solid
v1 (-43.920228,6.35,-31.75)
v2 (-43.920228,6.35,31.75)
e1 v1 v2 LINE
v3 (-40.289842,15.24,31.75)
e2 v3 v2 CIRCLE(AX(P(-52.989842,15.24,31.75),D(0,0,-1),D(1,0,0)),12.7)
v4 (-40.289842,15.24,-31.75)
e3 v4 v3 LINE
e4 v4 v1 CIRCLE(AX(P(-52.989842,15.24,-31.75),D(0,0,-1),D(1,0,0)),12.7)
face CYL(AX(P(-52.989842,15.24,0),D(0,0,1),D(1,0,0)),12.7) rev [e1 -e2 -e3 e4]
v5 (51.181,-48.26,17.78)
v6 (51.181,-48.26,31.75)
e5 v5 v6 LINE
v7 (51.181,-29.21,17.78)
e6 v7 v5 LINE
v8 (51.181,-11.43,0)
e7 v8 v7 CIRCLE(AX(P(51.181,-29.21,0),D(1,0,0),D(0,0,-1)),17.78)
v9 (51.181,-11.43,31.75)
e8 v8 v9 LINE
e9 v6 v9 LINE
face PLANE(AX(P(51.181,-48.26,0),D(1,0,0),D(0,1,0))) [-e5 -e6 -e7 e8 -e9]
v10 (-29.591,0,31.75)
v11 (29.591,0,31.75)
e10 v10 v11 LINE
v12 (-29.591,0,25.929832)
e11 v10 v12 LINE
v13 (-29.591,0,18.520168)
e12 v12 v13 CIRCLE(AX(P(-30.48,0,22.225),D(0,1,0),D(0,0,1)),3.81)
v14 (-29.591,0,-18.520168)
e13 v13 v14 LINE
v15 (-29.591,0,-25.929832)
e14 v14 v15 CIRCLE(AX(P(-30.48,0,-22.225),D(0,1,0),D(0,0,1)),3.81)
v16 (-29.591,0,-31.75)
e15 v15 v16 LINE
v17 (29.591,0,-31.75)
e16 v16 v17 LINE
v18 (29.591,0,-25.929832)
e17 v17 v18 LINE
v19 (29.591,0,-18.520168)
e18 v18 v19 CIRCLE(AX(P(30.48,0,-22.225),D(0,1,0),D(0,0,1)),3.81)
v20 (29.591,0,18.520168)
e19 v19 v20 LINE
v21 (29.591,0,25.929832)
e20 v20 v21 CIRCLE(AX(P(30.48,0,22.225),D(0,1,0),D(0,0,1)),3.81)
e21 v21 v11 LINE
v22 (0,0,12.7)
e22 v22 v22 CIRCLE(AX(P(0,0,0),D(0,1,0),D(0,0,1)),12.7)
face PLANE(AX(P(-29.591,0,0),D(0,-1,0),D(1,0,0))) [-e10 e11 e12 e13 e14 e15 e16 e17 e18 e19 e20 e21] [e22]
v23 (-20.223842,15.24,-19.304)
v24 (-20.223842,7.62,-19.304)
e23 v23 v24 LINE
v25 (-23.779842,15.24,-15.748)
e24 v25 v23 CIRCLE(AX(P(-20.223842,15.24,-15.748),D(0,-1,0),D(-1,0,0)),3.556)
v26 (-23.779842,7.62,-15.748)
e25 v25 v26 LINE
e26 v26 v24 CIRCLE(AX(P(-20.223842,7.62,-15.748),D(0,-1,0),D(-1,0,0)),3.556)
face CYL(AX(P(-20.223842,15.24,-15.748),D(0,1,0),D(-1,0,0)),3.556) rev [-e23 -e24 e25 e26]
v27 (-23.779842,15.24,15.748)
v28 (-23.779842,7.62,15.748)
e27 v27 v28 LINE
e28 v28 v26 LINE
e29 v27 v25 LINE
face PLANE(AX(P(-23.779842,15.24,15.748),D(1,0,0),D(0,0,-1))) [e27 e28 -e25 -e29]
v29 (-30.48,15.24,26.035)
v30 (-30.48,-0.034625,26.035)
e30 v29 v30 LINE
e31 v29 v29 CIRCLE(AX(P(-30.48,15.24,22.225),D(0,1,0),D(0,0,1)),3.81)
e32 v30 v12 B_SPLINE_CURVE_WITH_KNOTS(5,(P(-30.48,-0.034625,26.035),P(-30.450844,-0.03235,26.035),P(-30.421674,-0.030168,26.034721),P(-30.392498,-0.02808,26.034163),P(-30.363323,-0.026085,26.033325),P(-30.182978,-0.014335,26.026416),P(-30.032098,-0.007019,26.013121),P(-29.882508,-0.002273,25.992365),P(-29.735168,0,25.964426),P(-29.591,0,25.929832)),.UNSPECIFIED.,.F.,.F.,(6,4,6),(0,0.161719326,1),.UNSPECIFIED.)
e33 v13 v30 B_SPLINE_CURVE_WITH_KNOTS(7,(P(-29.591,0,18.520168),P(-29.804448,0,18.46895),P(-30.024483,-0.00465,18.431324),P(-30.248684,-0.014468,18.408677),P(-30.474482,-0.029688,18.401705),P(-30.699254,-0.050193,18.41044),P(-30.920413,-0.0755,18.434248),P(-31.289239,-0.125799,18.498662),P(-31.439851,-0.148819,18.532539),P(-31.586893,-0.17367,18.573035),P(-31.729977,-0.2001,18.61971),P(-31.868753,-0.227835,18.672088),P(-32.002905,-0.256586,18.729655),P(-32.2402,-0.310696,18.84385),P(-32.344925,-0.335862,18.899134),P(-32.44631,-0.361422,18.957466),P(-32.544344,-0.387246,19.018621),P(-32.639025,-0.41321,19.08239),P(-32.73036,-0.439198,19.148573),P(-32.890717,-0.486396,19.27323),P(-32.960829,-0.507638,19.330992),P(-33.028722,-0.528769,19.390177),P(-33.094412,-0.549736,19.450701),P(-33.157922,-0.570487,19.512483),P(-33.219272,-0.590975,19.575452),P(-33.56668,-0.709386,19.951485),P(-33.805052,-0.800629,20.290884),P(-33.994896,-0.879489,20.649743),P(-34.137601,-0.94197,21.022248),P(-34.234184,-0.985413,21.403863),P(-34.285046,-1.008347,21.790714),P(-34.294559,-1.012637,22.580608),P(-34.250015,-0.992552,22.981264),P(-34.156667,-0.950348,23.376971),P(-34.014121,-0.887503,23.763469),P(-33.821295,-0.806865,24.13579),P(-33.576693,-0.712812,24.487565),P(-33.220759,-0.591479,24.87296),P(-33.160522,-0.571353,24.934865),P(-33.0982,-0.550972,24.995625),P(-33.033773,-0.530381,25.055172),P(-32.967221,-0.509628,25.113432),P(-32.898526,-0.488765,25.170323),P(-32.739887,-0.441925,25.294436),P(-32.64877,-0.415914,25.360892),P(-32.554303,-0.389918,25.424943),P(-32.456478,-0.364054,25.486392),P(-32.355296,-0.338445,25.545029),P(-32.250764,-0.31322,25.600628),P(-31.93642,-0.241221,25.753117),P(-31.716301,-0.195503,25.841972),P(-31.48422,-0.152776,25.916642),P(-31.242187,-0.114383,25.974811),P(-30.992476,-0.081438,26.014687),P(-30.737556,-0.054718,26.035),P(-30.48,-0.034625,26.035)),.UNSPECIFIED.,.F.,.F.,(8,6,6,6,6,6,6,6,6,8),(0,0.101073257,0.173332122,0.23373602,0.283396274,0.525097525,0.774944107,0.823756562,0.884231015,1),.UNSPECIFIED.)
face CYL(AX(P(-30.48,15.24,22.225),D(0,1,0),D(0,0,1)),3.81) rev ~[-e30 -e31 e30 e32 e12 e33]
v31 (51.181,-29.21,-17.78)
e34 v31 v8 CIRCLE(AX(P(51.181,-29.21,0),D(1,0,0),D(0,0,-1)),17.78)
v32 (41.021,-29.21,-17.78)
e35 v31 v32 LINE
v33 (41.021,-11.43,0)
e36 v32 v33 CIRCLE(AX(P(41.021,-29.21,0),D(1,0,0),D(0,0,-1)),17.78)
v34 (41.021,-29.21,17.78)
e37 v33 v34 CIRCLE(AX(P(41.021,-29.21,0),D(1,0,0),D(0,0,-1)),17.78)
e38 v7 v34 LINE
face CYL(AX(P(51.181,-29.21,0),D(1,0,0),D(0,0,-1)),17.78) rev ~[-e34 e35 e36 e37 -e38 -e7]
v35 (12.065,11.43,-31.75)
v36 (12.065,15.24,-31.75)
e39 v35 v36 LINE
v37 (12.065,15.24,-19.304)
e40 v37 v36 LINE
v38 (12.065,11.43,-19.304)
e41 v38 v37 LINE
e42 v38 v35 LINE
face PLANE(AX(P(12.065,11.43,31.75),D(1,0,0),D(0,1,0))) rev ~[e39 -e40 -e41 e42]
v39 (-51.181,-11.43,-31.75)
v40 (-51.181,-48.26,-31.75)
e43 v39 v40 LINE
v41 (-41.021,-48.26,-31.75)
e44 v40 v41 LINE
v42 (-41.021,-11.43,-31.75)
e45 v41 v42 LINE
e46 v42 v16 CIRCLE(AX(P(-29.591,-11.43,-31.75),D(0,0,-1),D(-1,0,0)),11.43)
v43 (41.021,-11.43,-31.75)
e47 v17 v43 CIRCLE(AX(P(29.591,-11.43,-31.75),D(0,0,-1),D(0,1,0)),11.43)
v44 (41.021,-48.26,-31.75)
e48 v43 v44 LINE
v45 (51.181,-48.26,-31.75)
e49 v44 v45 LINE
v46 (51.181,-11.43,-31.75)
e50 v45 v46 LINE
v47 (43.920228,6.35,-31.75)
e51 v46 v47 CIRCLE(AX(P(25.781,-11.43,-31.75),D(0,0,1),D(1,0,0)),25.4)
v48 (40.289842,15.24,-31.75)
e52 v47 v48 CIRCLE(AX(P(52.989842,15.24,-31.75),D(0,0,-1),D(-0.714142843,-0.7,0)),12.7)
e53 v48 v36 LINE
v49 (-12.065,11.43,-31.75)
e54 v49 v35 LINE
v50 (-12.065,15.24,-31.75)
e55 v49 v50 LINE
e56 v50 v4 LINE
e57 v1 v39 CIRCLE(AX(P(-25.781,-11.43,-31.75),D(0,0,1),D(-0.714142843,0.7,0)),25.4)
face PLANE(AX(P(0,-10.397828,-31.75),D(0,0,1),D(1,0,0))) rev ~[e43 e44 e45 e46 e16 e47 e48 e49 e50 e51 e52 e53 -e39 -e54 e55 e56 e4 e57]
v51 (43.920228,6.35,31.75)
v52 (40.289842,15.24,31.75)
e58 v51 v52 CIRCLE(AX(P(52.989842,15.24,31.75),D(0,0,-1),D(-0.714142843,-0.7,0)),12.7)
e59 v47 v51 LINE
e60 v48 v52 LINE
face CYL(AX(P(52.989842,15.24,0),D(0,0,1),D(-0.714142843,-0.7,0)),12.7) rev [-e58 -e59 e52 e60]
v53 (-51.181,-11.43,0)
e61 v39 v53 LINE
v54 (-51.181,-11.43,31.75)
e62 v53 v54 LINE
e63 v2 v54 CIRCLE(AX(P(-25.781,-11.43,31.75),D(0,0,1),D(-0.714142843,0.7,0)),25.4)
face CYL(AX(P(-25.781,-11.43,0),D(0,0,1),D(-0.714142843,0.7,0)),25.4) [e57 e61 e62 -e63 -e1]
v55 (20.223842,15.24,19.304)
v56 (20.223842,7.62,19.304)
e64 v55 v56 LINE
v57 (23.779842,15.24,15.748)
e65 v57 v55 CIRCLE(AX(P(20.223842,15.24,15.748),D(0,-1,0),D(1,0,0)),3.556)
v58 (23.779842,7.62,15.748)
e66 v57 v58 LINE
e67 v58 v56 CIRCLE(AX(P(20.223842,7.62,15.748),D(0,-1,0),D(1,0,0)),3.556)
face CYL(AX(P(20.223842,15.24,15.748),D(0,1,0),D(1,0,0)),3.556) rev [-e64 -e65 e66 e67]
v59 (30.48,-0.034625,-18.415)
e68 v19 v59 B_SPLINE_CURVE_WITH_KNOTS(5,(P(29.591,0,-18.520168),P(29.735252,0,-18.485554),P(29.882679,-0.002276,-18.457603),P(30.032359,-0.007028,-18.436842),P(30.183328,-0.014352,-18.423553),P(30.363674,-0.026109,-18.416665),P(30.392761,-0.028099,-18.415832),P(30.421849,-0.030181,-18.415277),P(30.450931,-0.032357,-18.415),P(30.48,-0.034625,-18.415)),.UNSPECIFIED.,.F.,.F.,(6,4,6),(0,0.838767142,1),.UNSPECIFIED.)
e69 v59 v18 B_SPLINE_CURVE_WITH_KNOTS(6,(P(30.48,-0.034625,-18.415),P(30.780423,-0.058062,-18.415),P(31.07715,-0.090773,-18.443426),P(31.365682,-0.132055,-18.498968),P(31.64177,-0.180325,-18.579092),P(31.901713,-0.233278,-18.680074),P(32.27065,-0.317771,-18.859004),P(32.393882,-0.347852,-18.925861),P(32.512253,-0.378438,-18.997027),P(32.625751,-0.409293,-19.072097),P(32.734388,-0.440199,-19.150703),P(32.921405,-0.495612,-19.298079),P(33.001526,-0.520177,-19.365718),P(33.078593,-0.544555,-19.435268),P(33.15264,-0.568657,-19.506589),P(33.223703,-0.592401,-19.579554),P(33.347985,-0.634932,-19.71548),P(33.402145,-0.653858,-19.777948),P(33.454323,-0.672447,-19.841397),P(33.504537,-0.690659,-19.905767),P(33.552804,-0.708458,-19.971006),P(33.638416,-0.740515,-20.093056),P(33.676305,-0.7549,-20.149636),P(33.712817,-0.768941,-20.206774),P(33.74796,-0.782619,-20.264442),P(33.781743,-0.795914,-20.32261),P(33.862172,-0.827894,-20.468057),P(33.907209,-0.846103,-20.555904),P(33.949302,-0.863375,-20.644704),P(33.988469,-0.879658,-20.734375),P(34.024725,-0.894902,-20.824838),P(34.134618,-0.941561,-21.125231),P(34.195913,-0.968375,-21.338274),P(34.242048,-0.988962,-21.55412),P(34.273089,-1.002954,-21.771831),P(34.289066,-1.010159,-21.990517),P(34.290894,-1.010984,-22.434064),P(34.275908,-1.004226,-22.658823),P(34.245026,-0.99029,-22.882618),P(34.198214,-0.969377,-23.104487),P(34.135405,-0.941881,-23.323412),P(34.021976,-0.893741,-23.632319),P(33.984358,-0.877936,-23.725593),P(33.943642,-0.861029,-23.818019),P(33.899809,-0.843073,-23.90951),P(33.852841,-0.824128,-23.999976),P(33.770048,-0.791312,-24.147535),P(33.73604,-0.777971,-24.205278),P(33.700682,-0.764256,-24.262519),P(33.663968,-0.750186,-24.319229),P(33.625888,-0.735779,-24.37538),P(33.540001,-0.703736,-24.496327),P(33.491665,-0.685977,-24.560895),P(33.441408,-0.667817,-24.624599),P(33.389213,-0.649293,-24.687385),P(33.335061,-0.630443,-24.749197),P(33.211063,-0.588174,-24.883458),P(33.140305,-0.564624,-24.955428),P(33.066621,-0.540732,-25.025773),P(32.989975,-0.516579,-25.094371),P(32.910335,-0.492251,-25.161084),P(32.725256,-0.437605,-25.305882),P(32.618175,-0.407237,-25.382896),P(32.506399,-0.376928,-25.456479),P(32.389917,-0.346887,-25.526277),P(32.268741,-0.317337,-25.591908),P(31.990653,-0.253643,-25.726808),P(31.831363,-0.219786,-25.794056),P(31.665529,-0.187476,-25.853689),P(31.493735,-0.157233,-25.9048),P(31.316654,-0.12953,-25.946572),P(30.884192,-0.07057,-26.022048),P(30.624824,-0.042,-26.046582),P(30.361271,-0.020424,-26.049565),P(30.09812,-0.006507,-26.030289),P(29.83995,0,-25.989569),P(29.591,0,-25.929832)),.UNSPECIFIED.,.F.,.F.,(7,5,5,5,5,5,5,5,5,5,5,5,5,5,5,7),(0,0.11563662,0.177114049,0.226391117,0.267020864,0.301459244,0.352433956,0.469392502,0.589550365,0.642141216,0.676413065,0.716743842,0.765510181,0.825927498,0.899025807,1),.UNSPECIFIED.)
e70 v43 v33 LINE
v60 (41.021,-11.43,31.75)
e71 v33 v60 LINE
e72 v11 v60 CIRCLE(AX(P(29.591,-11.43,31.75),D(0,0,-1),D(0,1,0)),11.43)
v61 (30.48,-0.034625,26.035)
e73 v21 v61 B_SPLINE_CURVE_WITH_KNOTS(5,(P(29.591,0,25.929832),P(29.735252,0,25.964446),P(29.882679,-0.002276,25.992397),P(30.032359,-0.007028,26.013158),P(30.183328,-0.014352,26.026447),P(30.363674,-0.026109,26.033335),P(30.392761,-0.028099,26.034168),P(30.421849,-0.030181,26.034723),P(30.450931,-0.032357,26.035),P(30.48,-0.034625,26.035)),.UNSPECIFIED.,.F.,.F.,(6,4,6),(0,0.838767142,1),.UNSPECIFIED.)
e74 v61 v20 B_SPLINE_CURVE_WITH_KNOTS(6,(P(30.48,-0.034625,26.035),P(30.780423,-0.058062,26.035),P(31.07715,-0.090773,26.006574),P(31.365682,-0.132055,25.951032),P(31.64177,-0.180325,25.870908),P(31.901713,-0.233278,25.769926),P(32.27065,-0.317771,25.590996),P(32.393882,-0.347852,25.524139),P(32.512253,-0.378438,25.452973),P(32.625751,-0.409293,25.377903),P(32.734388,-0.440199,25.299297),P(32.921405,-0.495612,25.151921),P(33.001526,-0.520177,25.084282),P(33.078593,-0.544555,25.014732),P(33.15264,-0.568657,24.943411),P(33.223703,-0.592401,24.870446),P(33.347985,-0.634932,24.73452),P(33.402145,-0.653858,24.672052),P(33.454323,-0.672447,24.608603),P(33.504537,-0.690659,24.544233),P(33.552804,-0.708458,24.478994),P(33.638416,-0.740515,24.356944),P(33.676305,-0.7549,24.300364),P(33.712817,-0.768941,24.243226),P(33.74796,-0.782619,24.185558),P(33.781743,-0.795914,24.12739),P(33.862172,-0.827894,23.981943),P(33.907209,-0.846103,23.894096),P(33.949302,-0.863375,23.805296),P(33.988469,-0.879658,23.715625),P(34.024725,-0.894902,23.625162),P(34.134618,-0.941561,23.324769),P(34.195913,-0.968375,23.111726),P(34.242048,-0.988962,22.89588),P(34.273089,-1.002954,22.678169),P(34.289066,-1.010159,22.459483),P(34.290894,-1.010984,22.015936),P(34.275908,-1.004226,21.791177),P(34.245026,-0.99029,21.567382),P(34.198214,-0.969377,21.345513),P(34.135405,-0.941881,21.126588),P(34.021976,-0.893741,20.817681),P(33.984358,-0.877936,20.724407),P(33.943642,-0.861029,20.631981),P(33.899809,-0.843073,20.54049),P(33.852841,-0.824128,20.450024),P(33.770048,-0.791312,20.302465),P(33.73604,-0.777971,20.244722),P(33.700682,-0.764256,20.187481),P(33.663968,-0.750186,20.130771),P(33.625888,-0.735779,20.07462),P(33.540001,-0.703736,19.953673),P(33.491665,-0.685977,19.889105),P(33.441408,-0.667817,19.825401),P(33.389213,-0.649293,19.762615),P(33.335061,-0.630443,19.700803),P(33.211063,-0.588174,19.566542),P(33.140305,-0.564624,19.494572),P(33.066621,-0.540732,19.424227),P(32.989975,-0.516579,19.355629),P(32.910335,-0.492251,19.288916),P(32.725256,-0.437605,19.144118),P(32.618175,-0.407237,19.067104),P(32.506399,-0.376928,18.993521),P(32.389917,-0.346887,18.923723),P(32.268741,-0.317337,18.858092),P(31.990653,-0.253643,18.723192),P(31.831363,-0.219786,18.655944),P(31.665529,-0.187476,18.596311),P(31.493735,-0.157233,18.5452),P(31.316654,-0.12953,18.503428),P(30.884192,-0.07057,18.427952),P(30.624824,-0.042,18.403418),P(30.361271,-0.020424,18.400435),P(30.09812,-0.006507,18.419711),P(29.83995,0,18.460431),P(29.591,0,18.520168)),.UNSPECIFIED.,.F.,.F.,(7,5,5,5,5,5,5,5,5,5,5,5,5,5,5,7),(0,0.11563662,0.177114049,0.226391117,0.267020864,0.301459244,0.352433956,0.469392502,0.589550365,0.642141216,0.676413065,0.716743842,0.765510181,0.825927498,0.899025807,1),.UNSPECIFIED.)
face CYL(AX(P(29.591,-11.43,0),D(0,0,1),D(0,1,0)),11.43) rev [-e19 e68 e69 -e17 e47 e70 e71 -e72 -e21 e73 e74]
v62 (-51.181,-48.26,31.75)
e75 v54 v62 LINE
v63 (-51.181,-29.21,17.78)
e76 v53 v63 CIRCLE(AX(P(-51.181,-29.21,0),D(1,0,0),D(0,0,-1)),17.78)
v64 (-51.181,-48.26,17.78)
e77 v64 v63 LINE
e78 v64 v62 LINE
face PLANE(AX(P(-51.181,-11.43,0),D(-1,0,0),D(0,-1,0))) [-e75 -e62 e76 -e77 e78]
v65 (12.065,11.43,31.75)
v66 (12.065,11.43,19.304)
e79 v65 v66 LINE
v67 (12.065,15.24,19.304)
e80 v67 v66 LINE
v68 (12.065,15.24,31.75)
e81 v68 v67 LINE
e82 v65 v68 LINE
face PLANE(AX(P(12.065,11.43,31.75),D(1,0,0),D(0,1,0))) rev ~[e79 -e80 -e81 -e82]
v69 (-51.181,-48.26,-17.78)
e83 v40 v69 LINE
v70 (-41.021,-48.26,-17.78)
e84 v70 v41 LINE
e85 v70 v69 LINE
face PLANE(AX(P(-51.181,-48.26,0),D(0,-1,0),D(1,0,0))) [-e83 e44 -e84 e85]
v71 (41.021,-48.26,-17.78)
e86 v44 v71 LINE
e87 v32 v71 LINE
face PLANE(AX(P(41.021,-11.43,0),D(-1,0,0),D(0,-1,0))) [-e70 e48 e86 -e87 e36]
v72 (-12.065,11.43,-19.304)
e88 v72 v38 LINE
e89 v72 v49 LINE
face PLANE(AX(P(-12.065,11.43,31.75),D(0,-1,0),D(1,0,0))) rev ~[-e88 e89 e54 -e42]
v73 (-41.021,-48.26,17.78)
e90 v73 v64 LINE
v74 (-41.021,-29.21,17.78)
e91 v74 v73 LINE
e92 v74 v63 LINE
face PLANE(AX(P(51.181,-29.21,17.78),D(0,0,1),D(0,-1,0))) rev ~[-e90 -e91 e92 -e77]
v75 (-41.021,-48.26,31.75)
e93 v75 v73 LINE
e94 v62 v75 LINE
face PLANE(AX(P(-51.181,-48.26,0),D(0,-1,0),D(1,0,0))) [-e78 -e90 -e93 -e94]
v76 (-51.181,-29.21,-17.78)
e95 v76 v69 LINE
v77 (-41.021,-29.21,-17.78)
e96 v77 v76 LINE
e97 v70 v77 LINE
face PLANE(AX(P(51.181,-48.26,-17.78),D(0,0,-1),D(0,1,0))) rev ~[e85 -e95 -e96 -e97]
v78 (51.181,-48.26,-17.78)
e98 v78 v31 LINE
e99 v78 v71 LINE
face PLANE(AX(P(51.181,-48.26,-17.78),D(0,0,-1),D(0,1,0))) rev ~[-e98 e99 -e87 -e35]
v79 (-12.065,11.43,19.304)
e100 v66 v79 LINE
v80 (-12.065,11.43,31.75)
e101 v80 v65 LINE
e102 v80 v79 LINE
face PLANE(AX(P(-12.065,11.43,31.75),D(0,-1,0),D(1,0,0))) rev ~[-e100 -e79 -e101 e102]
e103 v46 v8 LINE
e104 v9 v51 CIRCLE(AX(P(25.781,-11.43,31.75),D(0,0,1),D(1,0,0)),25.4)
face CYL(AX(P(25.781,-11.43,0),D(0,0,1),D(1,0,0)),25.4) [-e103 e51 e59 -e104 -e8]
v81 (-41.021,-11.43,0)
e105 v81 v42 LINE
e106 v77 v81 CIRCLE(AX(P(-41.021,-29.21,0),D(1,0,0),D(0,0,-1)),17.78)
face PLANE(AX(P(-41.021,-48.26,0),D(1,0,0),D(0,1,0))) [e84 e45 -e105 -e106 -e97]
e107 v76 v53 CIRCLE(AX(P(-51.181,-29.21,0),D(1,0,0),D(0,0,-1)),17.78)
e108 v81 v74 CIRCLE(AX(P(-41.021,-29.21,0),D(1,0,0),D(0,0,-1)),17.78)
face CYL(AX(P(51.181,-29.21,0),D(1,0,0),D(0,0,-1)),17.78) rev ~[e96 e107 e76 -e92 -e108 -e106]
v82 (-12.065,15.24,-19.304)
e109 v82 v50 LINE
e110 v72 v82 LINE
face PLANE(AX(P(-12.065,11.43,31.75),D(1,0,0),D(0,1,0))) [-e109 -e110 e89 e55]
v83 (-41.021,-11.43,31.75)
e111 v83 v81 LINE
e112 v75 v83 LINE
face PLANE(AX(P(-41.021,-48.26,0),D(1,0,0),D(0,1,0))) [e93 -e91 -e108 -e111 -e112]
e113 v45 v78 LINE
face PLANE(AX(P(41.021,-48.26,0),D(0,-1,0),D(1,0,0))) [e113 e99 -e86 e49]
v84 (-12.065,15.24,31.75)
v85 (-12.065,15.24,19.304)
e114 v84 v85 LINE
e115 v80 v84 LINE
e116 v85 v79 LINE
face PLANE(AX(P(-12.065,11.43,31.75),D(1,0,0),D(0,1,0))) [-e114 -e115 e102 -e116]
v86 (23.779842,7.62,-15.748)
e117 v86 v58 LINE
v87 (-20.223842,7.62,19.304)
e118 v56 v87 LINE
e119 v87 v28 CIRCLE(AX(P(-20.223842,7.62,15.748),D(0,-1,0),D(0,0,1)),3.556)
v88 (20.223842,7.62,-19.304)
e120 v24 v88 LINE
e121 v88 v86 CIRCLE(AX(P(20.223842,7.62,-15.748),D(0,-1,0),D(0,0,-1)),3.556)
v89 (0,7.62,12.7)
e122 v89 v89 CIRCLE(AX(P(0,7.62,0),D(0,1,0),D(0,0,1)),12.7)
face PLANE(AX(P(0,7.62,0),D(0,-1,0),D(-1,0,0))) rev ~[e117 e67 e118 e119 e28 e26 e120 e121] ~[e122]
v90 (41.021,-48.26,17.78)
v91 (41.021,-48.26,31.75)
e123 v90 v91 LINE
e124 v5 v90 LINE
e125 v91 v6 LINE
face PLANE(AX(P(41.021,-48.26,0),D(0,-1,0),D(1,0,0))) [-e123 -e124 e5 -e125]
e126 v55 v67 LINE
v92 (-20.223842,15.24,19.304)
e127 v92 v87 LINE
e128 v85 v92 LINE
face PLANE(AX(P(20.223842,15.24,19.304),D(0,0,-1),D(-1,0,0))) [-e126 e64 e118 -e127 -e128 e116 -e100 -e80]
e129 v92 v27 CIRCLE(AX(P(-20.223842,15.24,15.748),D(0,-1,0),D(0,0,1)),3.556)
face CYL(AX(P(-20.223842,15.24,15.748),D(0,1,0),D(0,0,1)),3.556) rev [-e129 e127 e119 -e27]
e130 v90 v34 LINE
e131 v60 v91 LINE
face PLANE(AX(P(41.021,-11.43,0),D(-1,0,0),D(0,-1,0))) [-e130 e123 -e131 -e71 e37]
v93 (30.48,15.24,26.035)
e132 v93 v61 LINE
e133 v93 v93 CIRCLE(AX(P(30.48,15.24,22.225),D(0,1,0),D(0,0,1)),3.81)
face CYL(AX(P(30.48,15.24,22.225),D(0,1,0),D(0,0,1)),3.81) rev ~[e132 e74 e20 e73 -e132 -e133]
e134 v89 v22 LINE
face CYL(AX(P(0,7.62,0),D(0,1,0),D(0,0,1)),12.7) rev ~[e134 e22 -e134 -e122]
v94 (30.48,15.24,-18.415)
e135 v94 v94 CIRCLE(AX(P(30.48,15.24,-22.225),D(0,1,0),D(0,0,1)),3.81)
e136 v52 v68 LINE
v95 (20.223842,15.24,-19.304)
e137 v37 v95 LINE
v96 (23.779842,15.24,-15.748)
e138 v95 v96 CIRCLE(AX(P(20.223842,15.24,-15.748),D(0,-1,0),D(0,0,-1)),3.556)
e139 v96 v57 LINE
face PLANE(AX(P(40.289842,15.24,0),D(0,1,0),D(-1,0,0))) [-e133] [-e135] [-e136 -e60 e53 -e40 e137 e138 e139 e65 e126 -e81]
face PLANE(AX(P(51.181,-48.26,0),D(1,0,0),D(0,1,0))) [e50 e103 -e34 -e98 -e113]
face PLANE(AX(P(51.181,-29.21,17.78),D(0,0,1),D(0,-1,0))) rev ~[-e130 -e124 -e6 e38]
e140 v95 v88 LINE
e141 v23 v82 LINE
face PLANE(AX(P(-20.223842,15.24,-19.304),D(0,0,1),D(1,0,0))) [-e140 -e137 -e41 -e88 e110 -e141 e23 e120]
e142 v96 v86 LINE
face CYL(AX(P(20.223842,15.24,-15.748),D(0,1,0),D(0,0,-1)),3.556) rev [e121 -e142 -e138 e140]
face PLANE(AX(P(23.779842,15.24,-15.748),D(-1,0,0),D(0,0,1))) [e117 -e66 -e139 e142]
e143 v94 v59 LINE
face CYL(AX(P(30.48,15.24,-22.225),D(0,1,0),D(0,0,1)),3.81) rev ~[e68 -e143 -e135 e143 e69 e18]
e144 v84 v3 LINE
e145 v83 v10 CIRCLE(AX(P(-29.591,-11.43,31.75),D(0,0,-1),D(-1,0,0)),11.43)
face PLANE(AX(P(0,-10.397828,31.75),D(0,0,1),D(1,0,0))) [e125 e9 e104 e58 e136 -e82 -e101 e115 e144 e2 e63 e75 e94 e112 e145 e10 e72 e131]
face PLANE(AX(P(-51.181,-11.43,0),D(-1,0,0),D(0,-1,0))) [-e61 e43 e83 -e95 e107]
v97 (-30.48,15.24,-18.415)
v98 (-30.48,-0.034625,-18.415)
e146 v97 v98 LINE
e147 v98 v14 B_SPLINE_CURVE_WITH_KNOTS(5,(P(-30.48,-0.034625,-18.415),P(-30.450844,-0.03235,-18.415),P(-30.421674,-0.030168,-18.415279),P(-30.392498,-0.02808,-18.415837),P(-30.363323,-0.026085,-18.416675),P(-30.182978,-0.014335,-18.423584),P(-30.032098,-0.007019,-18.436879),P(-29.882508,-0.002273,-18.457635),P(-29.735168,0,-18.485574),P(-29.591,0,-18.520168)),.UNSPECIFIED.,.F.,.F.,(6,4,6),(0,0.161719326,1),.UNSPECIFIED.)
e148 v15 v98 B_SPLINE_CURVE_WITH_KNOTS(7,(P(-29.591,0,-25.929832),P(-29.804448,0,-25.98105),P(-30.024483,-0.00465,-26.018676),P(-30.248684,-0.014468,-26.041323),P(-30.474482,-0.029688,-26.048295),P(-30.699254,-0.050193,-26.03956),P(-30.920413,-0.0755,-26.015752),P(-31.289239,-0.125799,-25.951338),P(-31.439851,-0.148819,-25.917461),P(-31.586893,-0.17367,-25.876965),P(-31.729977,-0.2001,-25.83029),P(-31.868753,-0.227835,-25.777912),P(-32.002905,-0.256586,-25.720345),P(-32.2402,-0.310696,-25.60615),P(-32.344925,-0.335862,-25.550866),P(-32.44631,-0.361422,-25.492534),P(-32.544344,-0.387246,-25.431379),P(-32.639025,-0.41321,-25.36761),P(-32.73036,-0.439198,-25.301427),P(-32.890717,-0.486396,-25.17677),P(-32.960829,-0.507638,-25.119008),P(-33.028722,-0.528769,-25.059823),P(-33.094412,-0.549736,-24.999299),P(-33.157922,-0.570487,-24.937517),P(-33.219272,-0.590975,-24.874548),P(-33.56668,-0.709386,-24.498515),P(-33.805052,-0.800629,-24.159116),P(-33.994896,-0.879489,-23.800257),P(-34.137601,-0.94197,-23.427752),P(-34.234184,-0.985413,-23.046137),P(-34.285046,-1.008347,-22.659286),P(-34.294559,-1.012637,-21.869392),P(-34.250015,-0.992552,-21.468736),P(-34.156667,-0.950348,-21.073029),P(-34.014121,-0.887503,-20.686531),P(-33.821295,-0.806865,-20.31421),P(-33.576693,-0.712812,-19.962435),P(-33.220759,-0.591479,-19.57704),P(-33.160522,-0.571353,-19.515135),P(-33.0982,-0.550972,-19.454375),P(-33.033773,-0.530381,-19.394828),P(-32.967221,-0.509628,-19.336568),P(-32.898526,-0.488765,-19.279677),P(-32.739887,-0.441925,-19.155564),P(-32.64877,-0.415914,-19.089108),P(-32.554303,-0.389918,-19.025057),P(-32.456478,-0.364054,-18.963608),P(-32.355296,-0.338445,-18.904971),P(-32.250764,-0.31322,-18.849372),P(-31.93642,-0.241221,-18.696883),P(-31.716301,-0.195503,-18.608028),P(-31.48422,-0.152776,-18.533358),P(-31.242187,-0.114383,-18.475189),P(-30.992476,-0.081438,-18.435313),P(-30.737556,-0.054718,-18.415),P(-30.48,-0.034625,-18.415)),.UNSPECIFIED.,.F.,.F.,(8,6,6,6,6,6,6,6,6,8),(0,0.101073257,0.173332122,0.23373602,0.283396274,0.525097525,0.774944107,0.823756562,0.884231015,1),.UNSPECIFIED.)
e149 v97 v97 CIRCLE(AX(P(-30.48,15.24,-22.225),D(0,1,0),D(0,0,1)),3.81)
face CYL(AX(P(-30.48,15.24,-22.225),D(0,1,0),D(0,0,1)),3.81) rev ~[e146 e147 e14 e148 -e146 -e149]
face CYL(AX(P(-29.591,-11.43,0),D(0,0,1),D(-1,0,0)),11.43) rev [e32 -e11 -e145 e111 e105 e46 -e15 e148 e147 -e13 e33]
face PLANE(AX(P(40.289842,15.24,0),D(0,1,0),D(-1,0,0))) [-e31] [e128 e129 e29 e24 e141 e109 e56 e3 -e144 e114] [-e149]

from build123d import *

# Parameters (mm, degrees)
BOSS_EXTRUDE1_DEPTH = 31.75
CUT_EXTRUDE1_DEPTH  = 118.537522281
CUT_EXTRUDE2_DEPTH  = 7.62
SKETCH5_W           = 24.13
SKETCH5_H           = 3.81
CUT_EXTRUDE3_DEPTH  = 95.766937067
CUT_EXTRUDE4_REACH  = 84.159
SKETCH6_R           = 12.7
CUT_EXTRUDE5_REACH  = 89.52
SKETCH7_R           = 3.81


with BuildPart() as part:
    # Sketch2 → Boss-Extrude1 (new, symmetric)
    with BuildSketch(Plane.XY):
        with BuildLine():
            Line((-29.591, 0), (29.591, 0))
            ThreePointArc((29.591, 0), (37.673230509, -3.347769491), (41.021, -11.43))
            Line((41.021, -11.43), (41.021, -48.26))
            Line((41.021, -48.26), (51.181, -48.26))
            Line((51.181, -48.26), (51.181, -11.43))
            ThreePointArc((51.181, -11.43), (49.29585059, -1.827302371), (43.920228208, 6.35))
            ThreePointArc((43.920228208, 6.35), (41.232417018, 10.438651186), (40.289842313, 15.24))
            Line((40.289842313, 15.24), (-40.289842313, 15.24))
            ThreePointArc((-40.289842313, 15.24), (-41.232417018, 10.438651186), (-43.920228208, 6.35))
            ThreePointArc((-43.920228208, 6.35), (-49.29585059, -1.827302371), (-51.181, -11.43))
            Line((-51.181, -11.43), (-51.181, -48.26))
            Line((-51.181, -48.26), (-41.021, -48.26))
            Line((-41.021, -48.26), (-41.021, -11.43))
            ThreePointArc((-41.021, -11.43), (-37.673230509, -3.347769491), (-29.591, 0))
        make_face()
    extrude(amount=BOSS_EXTRUDE1_DEPTH, both=True)

    # Sketch3 → Cut-Extrude1 (cut, through all)
    with BuildSketch(Plane(origin=(51.181, 0, 0), x_dir=(0, 0, -1), z_dir=(1, 0, 0))):
        with BuildLine():
            Line((-17.78, -48.26), (17.78, -48.26))
            Line((17.78, -48.26), (17.78, -29.21))
            ThreePointArc((17.78, -29.21), (0, -11.43), (-17.78, -29.21))
            Line((-17.78, -29.21), (-17.78, -48.26))
        make_face()
    extrude(amount=-CUT_EXTRUDE1_DEPTH, mode=Mode.SUBTRACT)

    # Sketch4 → Cut-Extrude2 (cut)
    with BuildSketch(Plane(origin=(0, 15.24, 0), x_dir=(1, 0, 0), z_dir=(0, 1, 0))):
        with BuildLine():
            Line((-20.223842313, 19.304), (20.223842313, 19.304))
            ThreePointArc((20.223842313, 19.304), (22.738314027, 18.262471714), (23.779842313, 15.748))
            Line((23.779842313, 15.748), (23.779842313, -15.748))
            ThreePointArc((23.779842313, -15.748), (22.738314027, -18.262471714), (20.223842313, -19.304))
            Line((20.223842313, -19.304), (-20.223842313, -19.304))
            ThreePointArc((-20.223842313, -19.304), (-22.738314027, -18.262471714), (-23.779842313, -15.748))
            Line((-23.779842313, -15.748), (-23.779842313, 15.748))
            ThreePointArc((-23.779842313, 15.748), (-22.738314027, 18.262471714), (-20.223842313, 19.304))
        make_face()
    extrude(amount=-CUT_EXTRUDE2_DEPTH, mode=Mode.SUBTRACT)

    # Sketch5 → Cut-Extrude3 (cut, through all)
    with BuildSketch(Plane.XY.offset(31.75)):
        with Locations((0, 13.335)):
            Rectangle(SKETCH5_W, SKETCH5_H)
    extrude(amount=-CUT_EXTRUDE3_DEPTH, mode=Mode.SUBTRACT)

    # Sketch6 → Cut-Extrude4 (cut, up to next)
    with BuildSketch(Plane(origin=(0, 7.62, 0), x_dir=(1, 0, 0), z_dir=(0, 1, 0)), mode=Mode.PRIVATE) as cut_extrude4_sk1:
        with Locations(Location((0, 0, 0), (0, 0, 270))):
            Circle(SKETCH6_R)
    cut_extrude4_tool1 = extrude(cut_extrude4_sk1.sketch, amount=-CUT_EXTRUDE4_REACH, mode=Mode.PRIVATE) & part.part
    add(cut_extrude4_tool1.solids().sort_by_distance((0, 7.62, 0))[0], mode=Mode.SUBTRACT)

    # Sketch7 → Cut-Extrude5 (cut, up to next)
    with BuildSketch(Plane(origin=(0, 15.24, 0), x_dir=(1, 0, 0), z_dir=(0, 1, 0)), mode=Mode.PRIVATE) as cut_extrude5_sk1:
        with Locations(Location((-30.48, 22.225, 0), (0, 0, 270))):
            Circle(SKETCH7_R)
    cut_extrude5_tool1 = extrude(cut_extrude5_sk1.sketch, amount=-CUT_EXTRUDE5_REACH, mode=Mode.PRIVATE) & part.part
    # Sketch7 → Cut-Extrude5 (cut, up to next)
    with BuildSketch(Plane(origin=(0, 15.24, 0), x_dir=(1, 0, 0), z_dir=(0, 1, 0)), mode=Mode.PRIVATE) as cut_extrude5_sk2:
        with Locations(Location((30.48, 22.225, 0), (0, 0, 270))):
            Circle(SKETCH7_R)
    cut_extrude5_tool2 = extrude(cut_extrude5_sk2.sketch, amount=-CUT_EXTRUDE5_REACH, mode=Mode.PRIVATE) & part.part
    # Sketch7 → Cut-Extrude5 (cut, up to next)
    with BuildSketch(Plane(origin=(0, 15.24, 0), x_dir=(1, 0, 0), z_dir=(0, 1, 0)), mode=Mode.PRIVATE) as cut_extrude5_sk3:
        with Locations(Location((30.48, -22.225, 0), (0, 0, 270))):
            Circle(SKETCH7_R)
    cut_extrude5_tool3 = extrude(cut_extrude5_sk3.sketch, amount=-CUT_EXTRUDE5_REACH, mode=Mode.PRIVATE) & part.part
    # Sketch7 → Cut-Extrude5 (cut, up to next)
    with BuildSketch(Plane(origin=(0, 15.24, 0), x_dir=(1, 0, 0), z_dir=(0, 1, 0)), mode=Mode.PRIVATE) as cut_extrude5_sk4:
        with Locations(Location((-30.48, -22.225, 0), (0, 0, 270))):
            Circle(SKETCH7_R)
    cut_extrude5_tool4 = extrude(cut_extrude5_sk4.sketch, amount=-CUT_EXTRUDE5_REACH, mode=Mode.PRIVATE) & part.part
    add(cut_extrude5_tool1.solids().sort_by_distance((-30.48, 15.24, -22.225))[0], mode=Mode.SUBTRACT)
    add(cut_extrude5_tool2.solids().sort_by_distance((30.48, 15.24, -22.225))[0], mode=Mode.SUBTRACT)
    add(cut_extrude5_tool3.solids().sort_by_distance((30.48, 15.24, 22.225))[0], mode=Mode.SUBTRACT)
    add(cut_extrude5_tool4.solids().sort_by_distance((-30.48, 15.24, 22.225))[0], mode=Mode.SUBTRACT)


solid = part.part
